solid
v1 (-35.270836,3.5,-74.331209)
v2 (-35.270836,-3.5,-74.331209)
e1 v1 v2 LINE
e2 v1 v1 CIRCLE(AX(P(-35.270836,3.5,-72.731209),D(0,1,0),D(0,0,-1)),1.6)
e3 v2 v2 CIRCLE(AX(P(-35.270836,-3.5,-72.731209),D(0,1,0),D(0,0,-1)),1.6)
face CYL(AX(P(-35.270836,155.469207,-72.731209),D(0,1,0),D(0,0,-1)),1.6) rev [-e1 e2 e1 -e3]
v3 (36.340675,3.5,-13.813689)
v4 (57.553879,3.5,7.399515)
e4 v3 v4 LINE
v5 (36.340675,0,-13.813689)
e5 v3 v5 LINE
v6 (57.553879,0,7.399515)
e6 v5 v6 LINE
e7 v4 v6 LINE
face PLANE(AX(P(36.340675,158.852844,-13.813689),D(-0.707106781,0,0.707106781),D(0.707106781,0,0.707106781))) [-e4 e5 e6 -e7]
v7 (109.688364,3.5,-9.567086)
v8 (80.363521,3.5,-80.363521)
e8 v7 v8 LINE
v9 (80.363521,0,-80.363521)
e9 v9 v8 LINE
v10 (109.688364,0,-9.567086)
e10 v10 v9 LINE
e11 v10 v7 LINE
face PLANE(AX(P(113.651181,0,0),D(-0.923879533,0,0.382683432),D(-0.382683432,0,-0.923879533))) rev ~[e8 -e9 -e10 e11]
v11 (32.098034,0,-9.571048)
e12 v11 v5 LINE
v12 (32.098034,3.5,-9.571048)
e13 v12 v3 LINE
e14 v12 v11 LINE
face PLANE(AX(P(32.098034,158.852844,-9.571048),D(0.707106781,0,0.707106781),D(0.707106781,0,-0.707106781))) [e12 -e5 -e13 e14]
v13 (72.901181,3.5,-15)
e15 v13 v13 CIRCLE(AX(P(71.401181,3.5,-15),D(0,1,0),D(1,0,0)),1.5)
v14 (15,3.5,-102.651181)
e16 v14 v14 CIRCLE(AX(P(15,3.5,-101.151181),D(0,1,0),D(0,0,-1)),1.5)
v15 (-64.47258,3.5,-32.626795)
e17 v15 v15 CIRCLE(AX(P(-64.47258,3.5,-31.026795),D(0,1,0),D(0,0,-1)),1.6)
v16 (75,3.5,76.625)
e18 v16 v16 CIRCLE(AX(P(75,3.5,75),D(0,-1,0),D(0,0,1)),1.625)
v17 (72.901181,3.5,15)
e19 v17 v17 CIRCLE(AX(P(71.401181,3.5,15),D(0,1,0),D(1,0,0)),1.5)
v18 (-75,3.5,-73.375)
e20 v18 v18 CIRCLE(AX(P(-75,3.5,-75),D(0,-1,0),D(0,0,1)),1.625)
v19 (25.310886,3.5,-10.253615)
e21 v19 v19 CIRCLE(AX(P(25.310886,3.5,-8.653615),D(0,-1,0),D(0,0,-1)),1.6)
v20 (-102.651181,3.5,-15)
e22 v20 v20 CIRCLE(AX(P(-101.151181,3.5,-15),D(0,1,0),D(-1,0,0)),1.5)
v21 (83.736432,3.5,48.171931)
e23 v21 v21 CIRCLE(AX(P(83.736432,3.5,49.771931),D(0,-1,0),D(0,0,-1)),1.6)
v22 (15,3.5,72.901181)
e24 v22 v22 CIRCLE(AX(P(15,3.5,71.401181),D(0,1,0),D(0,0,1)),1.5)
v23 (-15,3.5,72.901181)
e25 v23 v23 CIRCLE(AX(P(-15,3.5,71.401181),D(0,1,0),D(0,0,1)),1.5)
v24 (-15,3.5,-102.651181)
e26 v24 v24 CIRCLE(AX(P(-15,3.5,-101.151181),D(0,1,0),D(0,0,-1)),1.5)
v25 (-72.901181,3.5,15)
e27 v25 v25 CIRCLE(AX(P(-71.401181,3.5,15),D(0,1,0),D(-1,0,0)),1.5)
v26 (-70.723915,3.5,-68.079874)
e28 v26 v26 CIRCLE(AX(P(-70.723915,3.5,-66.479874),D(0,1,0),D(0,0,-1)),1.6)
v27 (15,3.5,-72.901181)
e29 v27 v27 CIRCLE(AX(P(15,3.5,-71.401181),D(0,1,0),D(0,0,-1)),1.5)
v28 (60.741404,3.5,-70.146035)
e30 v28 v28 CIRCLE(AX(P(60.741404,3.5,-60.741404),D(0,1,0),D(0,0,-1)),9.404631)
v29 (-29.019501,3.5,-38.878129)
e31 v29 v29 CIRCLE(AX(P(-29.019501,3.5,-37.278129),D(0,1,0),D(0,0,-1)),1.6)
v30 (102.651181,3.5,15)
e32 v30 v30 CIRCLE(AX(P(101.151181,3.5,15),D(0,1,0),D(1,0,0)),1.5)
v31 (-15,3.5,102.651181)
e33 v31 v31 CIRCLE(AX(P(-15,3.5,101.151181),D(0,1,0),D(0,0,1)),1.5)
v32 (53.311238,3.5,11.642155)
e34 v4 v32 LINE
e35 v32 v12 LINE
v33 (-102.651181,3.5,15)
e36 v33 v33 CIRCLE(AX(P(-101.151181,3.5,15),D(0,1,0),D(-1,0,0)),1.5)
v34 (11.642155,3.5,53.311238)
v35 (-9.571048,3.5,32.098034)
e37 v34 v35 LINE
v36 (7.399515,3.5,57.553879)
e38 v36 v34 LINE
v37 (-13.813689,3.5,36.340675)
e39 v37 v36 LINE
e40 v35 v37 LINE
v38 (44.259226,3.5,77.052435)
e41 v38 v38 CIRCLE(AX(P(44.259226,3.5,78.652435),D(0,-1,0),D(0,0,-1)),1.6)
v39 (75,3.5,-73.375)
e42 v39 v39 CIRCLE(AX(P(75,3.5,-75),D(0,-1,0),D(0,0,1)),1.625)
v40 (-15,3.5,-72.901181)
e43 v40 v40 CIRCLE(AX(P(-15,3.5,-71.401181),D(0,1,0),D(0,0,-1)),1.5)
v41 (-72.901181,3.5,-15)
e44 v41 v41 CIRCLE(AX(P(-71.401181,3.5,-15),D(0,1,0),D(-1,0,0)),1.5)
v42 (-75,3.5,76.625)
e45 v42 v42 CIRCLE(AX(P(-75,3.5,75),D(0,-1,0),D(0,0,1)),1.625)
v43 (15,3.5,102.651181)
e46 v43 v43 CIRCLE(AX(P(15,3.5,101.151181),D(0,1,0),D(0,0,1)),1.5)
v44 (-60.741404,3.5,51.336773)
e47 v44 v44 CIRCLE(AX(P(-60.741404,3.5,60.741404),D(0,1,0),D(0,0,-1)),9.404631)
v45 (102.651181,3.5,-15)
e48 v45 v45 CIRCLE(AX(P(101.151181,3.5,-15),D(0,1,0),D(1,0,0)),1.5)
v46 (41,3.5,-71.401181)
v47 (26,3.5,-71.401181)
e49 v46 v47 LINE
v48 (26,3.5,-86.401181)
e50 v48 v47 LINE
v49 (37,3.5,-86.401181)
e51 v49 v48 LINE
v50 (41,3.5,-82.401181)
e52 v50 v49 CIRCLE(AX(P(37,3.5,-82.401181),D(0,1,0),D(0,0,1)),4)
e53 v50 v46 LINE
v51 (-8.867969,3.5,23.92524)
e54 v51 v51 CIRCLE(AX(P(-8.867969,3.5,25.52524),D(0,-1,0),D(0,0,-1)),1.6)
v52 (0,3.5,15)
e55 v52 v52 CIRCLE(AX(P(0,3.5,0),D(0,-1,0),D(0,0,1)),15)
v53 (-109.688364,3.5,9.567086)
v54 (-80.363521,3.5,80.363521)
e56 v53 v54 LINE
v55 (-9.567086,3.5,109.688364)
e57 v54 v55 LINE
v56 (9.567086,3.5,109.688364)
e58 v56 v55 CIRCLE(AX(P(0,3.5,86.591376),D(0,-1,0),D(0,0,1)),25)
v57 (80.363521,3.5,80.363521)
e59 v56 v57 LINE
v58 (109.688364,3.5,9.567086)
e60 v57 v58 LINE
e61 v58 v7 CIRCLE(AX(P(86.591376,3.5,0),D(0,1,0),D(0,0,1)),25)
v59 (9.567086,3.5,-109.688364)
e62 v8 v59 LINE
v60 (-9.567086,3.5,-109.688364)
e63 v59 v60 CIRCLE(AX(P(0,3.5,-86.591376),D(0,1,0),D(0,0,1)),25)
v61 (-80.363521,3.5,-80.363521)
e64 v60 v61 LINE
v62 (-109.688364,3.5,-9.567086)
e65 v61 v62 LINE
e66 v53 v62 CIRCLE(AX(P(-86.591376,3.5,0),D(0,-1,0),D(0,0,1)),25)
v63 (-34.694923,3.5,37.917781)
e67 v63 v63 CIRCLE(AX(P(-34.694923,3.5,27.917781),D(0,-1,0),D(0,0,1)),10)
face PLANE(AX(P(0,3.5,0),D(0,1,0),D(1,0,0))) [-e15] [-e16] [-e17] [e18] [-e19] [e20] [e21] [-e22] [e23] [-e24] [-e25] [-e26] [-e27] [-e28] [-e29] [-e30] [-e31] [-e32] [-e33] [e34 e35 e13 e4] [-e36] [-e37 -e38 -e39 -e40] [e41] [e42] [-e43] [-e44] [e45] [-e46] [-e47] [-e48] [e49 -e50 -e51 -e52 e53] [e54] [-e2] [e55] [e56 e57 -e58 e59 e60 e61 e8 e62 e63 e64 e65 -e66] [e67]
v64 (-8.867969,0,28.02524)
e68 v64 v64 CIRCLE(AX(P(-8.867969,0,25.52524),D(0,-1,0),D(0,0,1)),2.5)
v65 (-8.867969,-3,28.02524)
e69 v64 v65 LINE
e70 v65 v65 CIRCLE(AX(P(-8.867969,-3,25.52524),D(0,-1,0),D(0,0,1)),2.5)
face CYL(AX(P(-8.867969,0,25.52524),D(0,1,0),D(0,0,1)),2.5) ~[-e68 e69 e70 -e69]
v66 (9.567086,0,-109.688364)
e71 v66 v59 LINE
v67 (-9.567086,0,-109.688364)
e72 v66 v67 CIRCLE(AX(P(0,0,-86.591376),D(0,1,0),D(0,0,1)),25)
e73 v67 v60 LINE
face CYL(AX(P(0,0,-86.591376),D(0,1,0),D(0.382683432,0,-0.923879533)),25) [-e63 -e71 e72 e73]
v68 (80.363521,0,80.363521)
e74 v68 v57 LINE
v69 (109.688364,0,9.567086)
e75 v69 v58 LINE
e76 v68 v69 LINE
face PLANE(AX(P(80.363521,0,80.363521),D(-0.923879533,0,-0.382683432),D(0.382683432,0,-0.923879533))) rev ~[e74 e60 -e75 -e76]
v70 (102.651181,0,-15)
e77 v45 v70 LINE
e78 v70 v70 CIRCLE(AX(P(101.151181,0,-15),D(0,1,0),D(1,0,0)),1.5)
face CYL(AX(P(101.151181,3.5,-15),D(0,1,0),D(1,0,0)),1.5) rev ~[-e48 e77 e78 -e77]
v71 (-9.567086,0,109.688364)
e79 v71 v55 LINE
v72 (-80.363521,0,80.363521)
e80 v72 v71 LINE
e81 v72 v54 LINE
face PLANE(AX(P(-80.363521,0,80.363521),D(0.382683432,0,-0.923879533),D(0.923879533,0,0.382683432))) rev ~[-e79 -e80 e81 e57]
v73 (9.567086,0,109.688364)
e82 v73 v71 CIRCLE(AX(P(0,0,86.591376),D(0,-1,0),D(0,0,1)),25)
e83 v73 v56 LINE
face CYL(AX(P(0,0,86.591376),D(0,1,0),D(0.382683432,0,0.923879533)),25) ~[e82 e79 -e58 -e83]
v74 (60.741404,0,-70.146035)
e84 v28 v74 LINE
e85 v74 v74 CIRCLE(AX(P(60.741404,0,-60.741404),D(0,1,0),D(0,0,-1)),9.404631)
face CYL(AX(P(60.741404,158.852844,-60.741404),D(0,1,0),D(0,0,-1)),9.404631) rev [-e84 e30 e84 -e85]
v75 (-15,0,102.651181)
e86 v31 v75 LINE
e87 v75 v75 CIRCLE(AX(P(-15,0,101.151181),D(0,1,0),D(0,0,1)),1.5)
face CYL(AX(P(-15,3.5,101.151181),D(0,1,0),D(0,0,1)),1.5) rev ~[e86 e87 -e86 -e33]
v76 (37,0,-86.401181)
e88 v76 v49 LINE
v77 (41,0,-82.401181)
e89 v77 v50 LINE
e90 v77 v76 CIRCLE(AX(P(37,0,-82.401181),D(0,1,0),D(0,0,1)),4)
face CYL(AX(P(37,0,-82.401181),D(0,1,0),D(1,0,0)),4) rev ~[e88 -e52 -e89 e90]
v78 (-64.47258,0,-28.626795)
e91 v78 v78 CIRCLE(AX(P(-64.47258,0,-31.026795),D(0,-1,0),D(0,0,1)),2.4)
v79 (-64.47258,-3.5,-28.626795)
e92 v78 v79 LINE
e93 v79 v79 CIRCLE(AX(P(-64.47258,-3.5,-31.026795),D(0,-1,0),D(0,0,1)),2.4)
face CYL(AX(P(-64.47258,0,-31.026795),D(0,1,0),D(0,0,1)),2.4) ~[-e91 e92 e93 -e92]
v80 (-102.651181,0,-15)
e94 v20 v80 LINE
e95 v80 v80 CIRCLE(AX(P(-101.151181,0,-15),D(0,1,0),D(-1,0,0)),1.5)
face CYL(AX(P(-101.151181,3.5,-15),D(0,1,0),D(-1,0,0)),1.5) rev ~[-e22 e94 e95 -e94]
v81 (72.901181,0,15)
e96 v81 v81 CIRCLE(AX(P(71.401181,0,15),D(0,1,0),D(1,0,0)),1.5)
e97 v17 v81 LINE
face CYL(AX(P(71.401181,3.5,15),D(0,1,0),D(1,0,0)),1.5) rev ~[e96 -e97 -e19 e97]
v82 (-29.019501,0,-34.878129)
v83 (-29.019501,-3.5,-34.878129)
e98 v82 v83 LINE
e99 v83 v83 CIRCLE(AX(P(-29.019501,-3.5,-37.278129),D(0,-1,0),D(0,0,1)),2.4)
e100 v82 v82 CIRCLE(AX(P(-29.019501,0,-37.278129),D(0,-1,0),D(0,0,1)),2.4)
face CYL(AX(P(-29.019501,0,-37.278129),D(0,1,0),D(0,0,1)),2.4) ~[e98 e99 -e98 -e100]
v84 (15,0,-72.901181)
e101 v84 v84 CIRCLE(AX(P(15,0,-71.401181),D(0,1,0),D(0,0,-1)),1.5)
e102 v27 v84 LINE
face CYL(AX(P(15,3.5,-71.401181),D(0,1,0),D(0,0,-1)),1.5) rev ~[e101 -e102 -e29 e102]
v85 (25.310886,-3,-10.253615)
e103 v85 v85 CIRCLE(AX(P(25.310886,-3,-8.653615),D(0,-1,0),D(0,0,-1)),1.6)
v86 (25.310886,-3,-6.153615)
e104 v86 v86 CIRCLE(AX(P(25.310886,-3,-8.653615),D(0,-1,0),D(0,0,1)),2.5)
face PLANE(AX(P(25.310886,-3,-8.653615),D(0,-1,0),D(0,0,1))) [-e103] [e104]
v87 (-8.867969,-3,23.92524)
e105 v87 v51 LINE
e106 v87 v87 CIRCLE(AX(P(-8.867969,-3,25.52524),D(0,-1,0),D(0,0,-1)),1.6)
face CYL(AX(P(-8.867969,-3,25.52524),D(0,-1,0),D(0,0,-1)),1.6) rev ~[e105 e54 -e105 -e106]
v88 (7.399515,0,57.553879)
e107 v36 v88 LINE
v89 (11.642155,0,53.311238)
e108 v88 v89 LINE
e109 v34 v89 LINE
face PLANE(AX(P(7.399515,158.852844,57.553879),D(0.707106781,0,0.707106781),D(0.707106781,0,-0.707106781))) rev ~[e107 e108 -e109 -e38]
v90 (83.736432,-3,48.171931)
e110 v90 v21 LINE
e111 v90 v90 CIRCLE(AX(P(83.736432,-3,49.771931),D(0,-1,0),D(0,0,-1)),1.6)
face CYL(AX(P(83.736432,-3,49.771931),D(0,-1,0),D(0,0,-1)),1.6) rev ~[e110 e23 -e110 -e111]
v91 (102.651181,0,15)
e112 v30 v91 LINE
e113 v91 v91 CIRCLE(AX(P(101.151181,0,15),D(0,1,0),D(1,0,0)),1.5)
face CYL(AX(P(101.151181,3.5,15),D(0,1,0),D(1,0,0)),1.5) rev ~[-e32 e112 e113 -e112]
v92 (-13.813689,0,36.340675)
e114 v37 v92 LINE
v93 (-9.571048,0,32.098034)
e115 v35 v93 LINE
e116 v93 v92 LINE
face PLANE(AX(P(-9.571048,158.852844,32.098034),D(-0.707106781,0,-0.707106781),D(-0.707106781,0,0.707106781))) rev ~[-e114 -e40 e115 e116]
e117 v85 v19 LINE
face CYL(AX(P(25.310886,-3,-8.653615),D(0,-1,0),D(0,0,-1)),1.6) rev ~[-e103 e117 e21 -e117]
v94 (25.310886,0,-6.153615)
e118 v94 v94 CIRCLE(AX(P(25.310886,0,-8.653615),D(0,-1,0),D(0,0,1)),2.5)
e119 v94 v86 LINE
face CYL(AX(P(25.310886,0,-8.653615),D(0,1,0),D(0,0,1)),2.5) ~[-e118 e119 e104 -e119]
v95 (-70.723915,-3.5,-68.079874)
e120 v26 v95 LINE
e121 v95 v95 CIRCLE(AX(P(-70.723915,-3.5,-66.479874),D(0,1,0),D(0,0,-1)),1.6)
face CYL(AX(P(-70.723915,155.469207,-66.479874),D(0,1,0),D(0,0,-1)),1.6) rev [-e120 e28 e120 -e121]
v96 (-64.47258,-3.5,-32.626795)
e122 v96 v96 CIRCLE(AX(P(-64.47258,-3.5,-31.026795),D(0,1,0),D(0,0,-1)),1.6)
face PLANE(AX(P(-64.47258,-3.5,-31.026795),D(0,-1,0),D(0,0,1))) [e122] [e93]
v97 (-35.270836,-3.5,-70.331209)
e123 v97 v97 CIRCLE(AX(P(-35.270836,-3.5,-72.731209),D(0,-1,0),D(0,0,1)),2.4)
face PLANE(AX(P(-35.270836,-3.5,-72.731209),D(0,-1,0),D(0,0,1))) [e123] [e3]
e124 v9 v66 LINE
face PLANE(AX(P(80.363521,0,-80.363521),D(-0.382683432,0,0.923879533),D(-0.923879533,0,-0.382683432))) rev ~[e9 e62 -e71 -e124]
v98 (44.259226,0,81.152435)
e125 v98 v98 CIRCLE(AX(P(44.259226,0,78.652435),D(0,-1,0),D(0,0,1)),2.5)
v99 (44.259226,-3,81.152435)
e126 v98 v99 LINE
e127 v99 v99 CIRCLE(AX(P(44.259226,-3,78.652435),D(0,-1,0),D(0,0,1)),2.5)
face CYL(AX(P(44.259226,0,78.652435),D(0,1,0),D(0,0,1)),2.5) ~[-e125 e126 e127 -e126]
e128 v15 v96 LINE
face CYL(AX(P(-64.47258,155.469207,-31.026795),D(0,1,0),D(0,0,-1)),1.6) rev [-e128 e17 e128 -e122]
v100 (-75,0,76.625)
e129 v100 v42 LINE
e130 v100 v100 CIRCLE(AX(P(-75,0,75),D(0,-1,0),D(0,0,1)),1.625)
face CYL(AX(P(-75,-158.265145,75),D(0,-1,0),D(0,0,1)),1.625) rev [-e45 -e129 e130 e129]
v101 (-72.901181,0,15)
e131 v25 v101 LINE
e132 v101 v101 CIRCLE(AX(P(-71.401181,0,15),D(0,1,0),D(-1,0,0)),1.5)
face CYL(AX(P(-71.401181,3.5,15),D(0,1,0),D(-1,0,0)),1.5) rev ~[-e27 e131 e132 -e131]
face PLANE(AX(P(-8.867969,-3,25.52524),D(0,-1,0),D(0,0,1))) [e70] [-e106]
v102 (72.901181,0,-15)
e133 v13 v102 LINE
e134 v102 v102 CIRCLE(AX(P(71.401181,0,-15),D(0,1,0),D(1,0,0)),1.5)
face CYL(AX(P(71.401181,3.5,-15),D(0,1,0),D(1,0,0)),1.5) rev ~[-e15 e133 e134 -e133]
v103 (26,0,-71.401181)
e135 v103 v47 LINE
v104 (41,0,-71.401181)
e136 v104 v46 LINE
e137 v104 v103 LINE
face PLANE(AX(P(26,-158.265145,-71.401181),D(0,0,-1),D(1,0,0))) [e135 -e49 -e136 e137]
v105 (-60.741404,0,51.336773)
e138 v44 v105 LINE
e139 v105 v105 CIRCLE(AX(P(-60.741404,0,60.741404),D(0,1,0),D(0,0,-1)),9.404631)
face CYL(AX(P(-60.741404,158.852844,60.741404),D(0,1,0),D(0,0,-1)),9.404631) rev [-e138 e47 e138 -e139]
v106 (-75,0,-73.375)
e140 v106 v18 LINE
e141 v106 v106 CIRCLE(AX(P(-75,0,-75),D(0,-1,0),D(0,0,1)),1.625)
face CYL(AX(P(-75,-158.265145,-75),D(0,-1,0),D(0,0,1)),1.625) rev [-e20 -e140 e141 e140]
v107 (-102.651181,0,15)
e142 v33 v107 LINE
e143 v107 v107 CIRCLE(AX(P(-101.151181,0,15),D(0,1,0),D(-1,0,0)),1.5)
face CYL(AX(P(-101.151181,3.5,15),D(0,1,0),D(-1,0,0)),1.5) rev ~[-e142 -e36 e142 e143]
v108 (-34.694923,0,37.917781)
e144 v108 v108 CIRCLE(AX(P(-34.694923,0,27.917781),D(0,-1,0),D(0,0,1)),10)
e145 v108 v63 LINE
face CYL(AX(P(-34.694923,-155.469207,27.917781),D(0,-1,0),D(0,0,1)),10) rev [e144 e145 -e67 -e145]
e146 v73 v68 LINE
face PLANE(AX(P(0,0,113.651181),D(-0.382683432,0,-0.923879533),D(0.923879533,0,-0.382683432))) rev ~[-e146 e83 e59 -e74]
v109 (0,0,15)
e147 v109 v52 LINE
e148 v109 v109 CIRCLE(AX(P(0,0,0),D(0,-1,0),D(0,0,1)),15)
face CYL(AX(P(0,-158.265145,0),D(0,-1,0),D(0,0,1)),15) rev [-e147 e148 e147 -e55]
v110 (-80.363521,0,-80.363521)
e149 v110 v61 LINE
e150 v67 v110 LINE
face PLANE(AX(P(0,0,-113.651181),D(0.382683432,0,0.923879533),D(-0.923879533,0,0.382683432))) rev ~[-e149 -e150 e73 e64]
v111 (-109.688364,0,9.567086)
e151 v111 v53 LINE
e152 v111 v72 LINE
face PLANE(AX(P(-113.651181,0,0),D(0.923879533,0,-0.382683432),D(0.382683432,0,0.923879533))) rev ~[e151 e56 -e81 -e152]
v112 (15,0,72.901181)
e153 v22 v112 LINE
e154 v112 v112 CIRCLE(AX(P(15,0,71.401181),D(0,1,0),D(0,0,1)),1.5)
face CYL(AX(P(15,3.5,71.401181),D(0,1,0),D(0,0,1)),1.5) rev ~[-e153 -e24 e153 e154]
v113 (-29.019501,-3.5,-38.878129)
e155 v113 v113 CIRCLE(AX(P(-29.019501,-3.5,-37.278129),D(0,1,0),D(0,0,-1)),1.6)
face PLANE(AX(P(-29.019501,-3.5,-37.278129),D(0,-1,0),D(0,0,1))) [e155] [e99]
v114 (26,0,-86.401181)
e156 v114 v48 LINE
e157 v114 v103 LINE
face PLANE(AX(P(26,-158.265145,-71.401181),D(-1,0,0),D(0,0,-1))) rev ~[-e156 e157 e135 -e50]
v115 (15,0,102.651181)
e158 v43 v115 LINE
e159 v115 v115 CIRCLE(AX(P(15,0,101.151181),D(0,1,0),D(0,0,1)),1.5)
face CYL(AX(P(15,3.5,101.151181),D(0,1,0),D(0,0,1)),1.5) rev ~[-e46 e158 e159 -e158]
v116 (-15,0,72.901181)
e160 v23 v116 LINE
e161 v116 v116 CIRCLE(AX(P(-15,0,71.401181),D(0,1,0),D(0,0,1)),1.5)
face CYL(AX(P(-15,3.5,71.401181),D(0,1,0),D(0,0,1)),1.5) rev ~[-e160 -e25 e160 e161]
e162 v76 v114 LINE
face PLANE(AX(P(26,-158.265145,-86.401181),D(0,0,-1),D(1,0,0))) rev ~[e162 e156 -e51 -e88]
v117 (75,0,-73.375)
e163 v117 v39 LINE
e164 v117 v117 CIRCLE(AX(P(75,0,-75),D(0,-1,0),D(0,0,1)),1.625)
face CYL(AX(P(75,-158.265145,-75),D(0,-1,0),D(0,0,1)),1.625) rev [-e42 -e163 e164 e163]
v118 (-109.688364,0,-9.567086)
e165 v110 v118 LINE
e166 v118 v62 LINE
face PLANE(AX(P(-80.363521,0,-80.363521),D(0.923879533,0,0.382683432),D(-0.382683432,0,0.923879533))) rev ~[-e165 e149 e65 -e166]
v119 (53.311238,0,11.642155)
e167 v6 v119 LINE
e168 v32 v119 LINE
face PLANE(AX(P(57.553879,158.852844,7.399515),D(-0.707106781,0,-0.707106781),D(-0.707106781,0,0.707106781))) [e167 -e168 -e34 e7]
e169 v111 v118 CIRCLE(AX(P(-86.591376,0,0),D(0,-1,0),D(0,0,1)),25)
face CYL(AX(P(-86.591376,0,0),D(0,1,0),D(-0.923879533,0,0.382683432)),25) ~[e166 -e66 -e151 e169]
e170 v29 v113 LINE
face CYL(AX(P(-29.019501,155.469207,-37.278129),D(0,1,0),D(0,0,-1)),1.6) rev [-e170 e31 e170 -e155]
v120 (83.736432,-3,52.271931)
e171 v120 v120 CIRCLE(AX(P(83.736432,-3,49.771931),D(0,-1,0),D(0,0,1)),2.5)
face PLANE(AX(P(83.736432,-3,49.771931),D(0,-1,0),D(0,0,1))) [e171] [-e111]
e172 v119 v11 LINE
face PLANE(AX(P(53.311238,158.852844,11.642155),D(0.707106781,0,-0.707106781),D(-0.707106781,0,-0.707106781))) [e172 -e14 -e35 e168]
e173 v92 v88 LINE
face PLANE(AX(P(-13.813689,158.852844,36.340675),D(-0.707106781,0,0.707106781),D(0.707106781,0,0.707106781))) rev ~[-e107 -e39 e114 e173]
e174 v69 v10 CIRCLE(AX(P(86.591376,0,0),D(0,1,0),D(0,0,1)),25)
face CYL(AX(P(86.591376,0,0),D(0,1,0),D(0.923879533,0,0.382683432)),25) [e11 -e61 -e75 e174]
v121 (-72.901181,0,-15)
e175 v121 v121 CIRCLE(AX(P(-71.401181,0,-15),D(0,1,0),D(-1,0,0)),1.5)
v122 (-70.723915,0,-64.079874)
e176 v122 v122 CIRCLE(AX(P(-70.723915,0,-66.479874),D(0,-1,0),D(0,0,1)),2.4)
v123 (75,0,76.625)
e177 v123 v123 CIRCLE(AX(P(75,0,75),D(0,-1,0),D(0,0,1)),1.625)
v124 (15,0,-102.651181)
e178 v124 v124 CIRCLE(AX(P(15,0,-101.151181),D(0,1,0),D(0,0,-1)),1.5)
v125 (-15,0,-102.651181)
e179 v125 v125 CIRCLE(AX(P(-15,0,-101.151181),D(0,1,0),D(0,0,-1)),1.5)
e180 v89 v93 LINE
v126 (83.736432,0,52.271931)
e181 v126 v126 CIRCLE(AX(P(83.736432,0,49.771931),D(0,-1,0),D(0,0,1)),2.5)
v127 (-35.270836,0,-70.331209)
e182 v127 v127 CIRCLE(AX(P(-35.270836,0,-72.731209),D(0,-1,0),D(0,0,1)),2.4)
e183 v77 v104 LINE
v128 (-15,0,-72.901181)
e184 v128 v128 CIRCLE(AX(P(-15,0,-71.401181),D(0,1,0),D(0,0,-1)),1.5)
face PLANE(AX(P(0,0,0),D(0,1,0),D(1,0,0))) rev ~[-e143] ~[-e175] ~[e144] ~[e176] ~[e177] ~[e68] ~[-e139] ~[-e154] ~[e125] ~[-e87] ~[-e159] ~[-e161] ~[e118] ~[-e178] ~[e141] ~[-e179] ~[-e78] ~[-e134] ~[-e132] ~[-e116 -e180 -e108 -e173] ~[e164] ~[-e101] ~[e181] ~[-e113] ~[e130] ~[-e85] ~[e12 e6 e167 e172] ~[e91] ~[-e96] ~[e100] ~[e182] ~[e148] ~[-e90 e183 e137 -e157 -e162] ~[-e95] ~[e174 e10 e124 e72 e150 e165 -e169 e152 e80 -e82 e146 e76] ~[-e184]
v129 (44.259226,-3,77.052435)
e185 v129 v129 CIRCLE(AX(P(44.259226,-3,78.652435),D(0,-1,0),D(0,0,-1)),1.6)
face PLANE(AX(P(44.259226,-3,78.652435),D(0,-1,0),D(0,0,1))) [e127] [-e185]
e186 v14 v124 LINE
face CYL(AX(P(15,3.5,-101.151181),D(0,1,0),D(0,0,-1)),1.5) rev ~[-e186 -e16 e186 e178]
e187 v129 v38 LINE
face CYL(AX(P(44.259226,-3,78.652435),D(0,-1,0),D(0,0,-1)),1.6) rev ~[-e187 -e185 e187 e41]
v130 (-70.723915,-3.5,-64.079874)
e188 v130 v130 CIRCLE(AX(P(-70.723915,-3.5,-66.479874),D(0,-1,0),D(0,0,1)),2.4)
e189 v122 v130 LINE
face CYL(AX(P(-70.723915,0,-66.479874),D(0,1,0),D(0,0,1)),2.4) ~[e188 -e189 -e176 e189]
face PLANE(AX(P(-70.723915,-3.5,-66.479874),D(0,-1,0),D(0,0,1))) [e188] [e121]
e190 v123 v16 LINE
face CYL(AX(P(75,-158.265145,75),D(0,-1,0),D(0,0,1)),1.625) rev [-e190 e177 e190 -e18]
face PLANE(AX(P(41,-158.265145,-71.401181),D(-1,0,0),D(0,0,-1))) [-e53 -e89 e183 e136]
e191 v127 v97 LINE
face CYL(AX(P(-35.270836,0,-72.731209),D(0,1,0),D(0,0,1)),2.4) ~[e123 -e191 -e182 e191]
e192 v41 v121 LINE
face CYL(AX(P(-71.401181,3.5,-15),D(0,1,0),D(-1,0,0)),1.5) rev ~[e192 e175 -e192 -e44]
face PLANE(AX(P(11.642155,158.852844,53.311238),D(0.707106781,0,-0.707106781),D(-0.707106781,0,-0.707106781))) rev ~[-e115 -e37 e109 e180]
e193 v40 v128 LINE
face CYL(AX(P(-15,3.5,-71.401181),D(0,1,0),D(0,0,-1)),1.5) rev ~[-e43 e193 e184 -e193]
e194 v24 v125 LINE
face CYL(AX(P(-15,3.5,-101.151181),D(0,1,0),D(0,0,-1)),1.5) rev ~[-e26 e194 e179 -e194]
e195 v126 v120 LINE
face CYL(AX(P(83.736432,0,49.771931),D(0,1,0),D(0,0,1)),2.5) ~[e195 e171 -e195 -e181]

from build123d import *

# Parameters (mm, degrees)
BOSS_EXTRUDE2_DEPTH      = 3.5
CUT_EXTRUDE3_DEPTH       = 161.765145163
CUT_EXTRUDE3_DEPTH_BACK  = 161.765145163
SKETCH3_R                = 1.625
CUT_EXTRUDE6_DEPTH       = 161.765145163
CUT_EXTRUDE6_DEPTH_BACK  = 161.765145163
SKETCH6_R                = 15
SKETCH8_R                = 1.5
CUT_EXTRUDE7_DEPTH       = 3.5
CIRPATTERN1_COUNT        = 4
CUT_EXTRUDE12_DEPTH      = 161.765145163
CUT_EXTRUDE12_DEPTH_BACK = 161.765145163
SKETCH20_W               = 15
SKETCH20_H               = 15
FILLET2_R                = 25
FILLET3_R                = 4
SKETCH21_R               = 2.5
BOSS_EXTRUDE4_DEPTH      = 3
SKETCH22_R               = 1.6
CUT_EXTRUDE13_DEPTH      = 158.947840775
SKETCH24_R               = 2.4
BOSS_EXTRUDE6_DEPTH      = 3.5
CUT_EXTRUDE14_DEPTH      = 158.969207144
CUT_EXTRUDE14_DEPTH_BACK = 158.969207144
SKETCH25_R               = 1.6
CUT_EXTRUDE15_DEPTH      = 158.852844148
CUT_EXTRUDE15_DEPTH_BACK = 158.852844148
SKETCH26_R               = 9.404630818
CUT_EXTRUDE16_DEPTH      = 158.852844148
CUT_EXTRUDE16_DEPTH_BACK = 158.852844148
CUT_EXTRUDE17_DEPTH      = 158.969207144
CUT_EXTRUDE17_DEPTH_BACK = 158.969207144
SKETCH28_R               = 10


with BuildPart() as part:
    # Sketch1 → Boss-Extrude2 (new body)
    with BuildSketch(Plane(origin=(0, 0, 0), x_dir=(1, 0, 0), z_dir=(0, 1, 0))):
        Polygon((0, -113.651181031), (80.363520797, -80.363520797), (113.651181031, 0), (80.363520797, 80.363520797), (0, 113.651181031), (-80.363520797, 80.363520797), (-113.651181031, 0), (-80.363520797, -80.363520797), align=None)
    extrude(amount=BOSS_EXTRUDE2_DEPTH)

    # Sketch3 → Cut-Extrude3 (cut, two sides: drawn at the far end of the back side and taken through both)
    with BuildSketch(Plane(origin=(0, 3.5, 0), x_dir=(1, 0, 0), z_dir=(0, 1, 0)).offset(-CUT_EXTRUDE3_DEPTH_BACK)):
        with Locations(Location((-75, -75, 0), (0, 0, 270))):
            Circle(SKETCH3_R)
        with Locations(Location((75, -75, 0), (0, 0, 270))):
            Circle(SKETCH3_R)
        with Locations(Location((75, 75, 0), (0, 0, 270))):
            Circle(SKETCH3_R)
        with Locations(Location((-75, 75, 0), (0, 0, 270))):
            Circle(SKETCH3_R)
    extrude(amount=CUT_EXTRUDE3_DEPTH + CUT_EXTRUDE3_DEPTH_BACK, mode=Mode.SUBTRACT)

    # Sketch6 → Cut-Extrude6 (cut, two sides: drawn at the far end of the back side and taken through both)
    with BuildSketch(Plane(origin=(0, 3.5, 0), x_dir=(1, 0, 0), z_dir=(0, 1, 0)).offset(-CUT_EXTRUDE6_DEPTH_BACK)):
        with Locations(Location((0, 0, 0), (0, 0, 270))):
            Circle(SKETCH6_R)
    extrude(amount=CUT_EXTRUDE6_DEPTH + CUT_EXTRUDE6_DEPTH_BACK, mode=Mode.SUBTRACT)

    # Sketch8 → Cut-Extrude7 (cut)
    with BuildSketch(Plane(origin=(0, 3.5, 0), x_dir=(1, 0, 0), z_dir=(0, 1, 0))):
        with Locations(Location((-15, -71.401181031, 0), (0, 0, 270))):
            Circle(SKETCH8_R)
        with Locations(Location((15, -71.401181031, 0), (0, 0, 270))):
            Circle(SKETCH8_R)
        with Locations(Location((-15, -101.151181031, 0), (0, 0, 270))):
            Circle(SKETCH8_R)
        with Locations(Location((15, -101.151181031, 0), (0, 0, 270))):
            Circle(SKETCH8_R)
    cut_extrude7 = extrude(amount=-CUT_EXTRUDE7_DEPTH, mode=Mode.SUBTRACT)

    # CirPattern1: Cut-Extrude7 ×4 about axis
    cirpattern1_axis = Axis((0, 0, 0), (0, 1, 0))
    for i in range(1, CIRPATTERN1_COUNT):
        add(cut_extrude7.rotate(cirpattern1_axis, i * 360 / CIRPATTERN1_COUNT), mode=Mode.SUBTRACT)

    # Sketch20 → Cut-Extrude12 (cut, two sides: drawn at the far end of the back side and taken through both)
    with BuildSketch(Plane(origin=(0, 3.5, 0), x_dir=(1, 0, 0), z_dir=(0, 1, 0)).offset(-CUT_EXTRUDE12_DEPTH_BACK)):
        with Locations((33.5, 78.901181031)):
            Rectangle(SKETCH20_W, SKETCH20_H)
    extrude(amount=CUT_EXTRUDE12_DEPTH + CUT_EXTRUDE12_DEPTH_BACK, mode=Mode.SUBTRACT)

    # Fillet2
    fillet2_edges = [part.edges().sort_by_distance(p)[0] for p in [
        (-113.651181031, 1.75, 0),
        (0, 1.75, -113.651181031),
        (113.651181031, 1.75, 0),
        (0, 1.75, 113.651181031),
    ]]
    fillet(fillet2_edges, radius=FILLET2_R)

    # Fillet3
    fillet3_edges = [part.edges().sort_by_distance(p)[0] for p in [
        (41, 1.75, -86.401181031),
    ]]
    fillet(fillet3_edges, radius=FILLET3_R)

    # Sketch21 → Boss-Extrude4 (add)
    with BuildSketch(Plane.XZ):
        with Locations(Location((-8.867969273, 25.52523978, 0), (0, 0, 90))):
            Circle(SKETCH21_R)
        with Locations(Location((25.310885524, -8.653615016, 0), (0, 0, 90))):
            Circle(SKETCH21_R)
        with Locations(Location((44.25922594, 78.652434993, 0), (0, 0, 90))):
            Circle(SKETCH21_R)
        with Locations(Location((83.736431848, 49.771931307, 0), (0, 0, 90))):
            Circle(SKETCH21_R)
    extrude(amount=BOSS_EXTRUDE4_DEPTH)

    # Sketch22 → Cut-Extrude13 (cut, through all)
    with BuildSketch(Plane.XZ.offset(3)):
        with Locations(Location((83.736431848, 49.771931307, 0), (0, 0, 270))):
            Circle(SKETCH22_R)
        with Locations(Location((25.310885524, -8.653615016, 0), (0, 0, 270))):
            Circle(SKETCH22_R)
        with Locations(Location((-8.867969273, 25.52523978, 0), (0, 0, 270))):
            Circle(SKETCH22_R)
        with Locations(Location((44.25922594, 78.652434993, 0), (0, 0, 270))):
            Circle(SKETCH22_R)
    extrude(amount=-CUT_EXTRUDE13_DEPTH, mode=Mode.SUBTRACT)

    # Sketch24 → Boss-Extrude6 (add)
    with BuildSketch(Plane.XZ):
        with Locations(Location((-64.472580457, -31.0267951, 0), (0, 0, 90))):
            Circle(SKETCH24_R)
        with Locations(Location((-29.019501349, -37.278129496, 0), (0, 0, 90))):
            Circle(SKETCH24_R)
        with Locations(Location((-35.270835745, -72.731208605, 0), (0, 0, 90))):
            Circle(SKETCH24_R)
        with Locations(Location((-70.723914853, -66.479874209, 0), (0, 0, 90))):
            Circle(SKETCH24_R)
    extrude(amount=BOSS_EXTRUDE6_DEPTH)

    # Sketch25 → Cut-Extrude14 (cut, two sides: drawn at the far end of the back side and taken through both)
    with BuildSketch(Plane.XZ.offset(3.5).offset(-CUT_EXTRUDE14_DEPTH_BACK)):
        with Locations(Location((-29.019501349, -37.278129496, 0), (0, 0, 270))):
            Circle(SKETCH25_R)
        with Locations(Location((-64.472580457, -31.0267951, 0), (0, 0, 270))):
            Circle(SKETCH25_R)
        with Locations(Location((-70.723914853, -66.479874209, 0), (0, 0, 270))):
            Circle(SKETCH25_R)
        with Locations(Location((-35.270835745, -72.731208605, 0), (0, 0, 270))):
            Circle(SKETCH25_R)
    extrude(amount=CUT_EXTRUDE14_DEPTH + CUT_EXTRUDE14_DEPTH_BACK, mode=Mode.SUBTRACT)

    # Sketch26 → Cut-Extrude15 (cut, two sides: drawn at the far end of the back side and taken through both)
    with BuildSketch(Plane.XZ.offset(-CUT_EXTRUDE15_DEPTH_BACK)):
        with Locations(Location((-60.741403737, 60.741403737, 0), (0, 0, 270))):
            Circle(SKETCH26_R)
        with Locations(Location((60.741403737, -60.741403737, 0), (0, 0, 270))):
            Circle(SKETCH26_R)
    extrude(amount=CUT_EXTRUDE15_DEPTH + CUT_EXTRUDE15_DEPTH_BACK, mode=Mode.SUBTRACT)

    # Sketch27 → Cut-Extrude16 (cut, two sides: drawn at the far end of the back side and taken through both)
    with BuildSketch(Plane.XZ.offset(-CUT_EXTRUDE16_DEPTH_BACK)):
        Polygon((7.39951467, 57.553878611), (11.642155357, 53.311237924), (-9.571048078, 32.098034488), (-13.813688765, 36.340675176), align=None)
        Polygon((32.098034488, -9.571048078), (36.340675176, -13.813688765), (57.553878611, 7.39951467), (53.311237924, 11.642155357), align=None)
    extrude(amount=CUT_EXTRUDE16_DEPTH + CUT_EXTRUDE16_DEPTH_BACK, mode=Mode.SUBTRACT)

    # Sketch28 → Cut-Extrude17 (cut, two sides: drawn at the far end of the back side and taken through both)
    with BuildSketch(Plane(origin=(0, 3.5, 0), x_dir=(1, 0, 0), z_dir=(0, 1, 0)).offset(-CUT_EXTRUDE17_DEPTH_BACK)):
        with Locations(Location((-34.694923367, -27.917780902, 0), (0, 0, 270))):
            Circle(SKETCH28_R)
    extrude(amount=CUT_EXTRUDE17_DEPTH + CUT_EXTRUDE17_DEPTH_BACK, mode=Mode.SUBTRACT)


solid = part.part
